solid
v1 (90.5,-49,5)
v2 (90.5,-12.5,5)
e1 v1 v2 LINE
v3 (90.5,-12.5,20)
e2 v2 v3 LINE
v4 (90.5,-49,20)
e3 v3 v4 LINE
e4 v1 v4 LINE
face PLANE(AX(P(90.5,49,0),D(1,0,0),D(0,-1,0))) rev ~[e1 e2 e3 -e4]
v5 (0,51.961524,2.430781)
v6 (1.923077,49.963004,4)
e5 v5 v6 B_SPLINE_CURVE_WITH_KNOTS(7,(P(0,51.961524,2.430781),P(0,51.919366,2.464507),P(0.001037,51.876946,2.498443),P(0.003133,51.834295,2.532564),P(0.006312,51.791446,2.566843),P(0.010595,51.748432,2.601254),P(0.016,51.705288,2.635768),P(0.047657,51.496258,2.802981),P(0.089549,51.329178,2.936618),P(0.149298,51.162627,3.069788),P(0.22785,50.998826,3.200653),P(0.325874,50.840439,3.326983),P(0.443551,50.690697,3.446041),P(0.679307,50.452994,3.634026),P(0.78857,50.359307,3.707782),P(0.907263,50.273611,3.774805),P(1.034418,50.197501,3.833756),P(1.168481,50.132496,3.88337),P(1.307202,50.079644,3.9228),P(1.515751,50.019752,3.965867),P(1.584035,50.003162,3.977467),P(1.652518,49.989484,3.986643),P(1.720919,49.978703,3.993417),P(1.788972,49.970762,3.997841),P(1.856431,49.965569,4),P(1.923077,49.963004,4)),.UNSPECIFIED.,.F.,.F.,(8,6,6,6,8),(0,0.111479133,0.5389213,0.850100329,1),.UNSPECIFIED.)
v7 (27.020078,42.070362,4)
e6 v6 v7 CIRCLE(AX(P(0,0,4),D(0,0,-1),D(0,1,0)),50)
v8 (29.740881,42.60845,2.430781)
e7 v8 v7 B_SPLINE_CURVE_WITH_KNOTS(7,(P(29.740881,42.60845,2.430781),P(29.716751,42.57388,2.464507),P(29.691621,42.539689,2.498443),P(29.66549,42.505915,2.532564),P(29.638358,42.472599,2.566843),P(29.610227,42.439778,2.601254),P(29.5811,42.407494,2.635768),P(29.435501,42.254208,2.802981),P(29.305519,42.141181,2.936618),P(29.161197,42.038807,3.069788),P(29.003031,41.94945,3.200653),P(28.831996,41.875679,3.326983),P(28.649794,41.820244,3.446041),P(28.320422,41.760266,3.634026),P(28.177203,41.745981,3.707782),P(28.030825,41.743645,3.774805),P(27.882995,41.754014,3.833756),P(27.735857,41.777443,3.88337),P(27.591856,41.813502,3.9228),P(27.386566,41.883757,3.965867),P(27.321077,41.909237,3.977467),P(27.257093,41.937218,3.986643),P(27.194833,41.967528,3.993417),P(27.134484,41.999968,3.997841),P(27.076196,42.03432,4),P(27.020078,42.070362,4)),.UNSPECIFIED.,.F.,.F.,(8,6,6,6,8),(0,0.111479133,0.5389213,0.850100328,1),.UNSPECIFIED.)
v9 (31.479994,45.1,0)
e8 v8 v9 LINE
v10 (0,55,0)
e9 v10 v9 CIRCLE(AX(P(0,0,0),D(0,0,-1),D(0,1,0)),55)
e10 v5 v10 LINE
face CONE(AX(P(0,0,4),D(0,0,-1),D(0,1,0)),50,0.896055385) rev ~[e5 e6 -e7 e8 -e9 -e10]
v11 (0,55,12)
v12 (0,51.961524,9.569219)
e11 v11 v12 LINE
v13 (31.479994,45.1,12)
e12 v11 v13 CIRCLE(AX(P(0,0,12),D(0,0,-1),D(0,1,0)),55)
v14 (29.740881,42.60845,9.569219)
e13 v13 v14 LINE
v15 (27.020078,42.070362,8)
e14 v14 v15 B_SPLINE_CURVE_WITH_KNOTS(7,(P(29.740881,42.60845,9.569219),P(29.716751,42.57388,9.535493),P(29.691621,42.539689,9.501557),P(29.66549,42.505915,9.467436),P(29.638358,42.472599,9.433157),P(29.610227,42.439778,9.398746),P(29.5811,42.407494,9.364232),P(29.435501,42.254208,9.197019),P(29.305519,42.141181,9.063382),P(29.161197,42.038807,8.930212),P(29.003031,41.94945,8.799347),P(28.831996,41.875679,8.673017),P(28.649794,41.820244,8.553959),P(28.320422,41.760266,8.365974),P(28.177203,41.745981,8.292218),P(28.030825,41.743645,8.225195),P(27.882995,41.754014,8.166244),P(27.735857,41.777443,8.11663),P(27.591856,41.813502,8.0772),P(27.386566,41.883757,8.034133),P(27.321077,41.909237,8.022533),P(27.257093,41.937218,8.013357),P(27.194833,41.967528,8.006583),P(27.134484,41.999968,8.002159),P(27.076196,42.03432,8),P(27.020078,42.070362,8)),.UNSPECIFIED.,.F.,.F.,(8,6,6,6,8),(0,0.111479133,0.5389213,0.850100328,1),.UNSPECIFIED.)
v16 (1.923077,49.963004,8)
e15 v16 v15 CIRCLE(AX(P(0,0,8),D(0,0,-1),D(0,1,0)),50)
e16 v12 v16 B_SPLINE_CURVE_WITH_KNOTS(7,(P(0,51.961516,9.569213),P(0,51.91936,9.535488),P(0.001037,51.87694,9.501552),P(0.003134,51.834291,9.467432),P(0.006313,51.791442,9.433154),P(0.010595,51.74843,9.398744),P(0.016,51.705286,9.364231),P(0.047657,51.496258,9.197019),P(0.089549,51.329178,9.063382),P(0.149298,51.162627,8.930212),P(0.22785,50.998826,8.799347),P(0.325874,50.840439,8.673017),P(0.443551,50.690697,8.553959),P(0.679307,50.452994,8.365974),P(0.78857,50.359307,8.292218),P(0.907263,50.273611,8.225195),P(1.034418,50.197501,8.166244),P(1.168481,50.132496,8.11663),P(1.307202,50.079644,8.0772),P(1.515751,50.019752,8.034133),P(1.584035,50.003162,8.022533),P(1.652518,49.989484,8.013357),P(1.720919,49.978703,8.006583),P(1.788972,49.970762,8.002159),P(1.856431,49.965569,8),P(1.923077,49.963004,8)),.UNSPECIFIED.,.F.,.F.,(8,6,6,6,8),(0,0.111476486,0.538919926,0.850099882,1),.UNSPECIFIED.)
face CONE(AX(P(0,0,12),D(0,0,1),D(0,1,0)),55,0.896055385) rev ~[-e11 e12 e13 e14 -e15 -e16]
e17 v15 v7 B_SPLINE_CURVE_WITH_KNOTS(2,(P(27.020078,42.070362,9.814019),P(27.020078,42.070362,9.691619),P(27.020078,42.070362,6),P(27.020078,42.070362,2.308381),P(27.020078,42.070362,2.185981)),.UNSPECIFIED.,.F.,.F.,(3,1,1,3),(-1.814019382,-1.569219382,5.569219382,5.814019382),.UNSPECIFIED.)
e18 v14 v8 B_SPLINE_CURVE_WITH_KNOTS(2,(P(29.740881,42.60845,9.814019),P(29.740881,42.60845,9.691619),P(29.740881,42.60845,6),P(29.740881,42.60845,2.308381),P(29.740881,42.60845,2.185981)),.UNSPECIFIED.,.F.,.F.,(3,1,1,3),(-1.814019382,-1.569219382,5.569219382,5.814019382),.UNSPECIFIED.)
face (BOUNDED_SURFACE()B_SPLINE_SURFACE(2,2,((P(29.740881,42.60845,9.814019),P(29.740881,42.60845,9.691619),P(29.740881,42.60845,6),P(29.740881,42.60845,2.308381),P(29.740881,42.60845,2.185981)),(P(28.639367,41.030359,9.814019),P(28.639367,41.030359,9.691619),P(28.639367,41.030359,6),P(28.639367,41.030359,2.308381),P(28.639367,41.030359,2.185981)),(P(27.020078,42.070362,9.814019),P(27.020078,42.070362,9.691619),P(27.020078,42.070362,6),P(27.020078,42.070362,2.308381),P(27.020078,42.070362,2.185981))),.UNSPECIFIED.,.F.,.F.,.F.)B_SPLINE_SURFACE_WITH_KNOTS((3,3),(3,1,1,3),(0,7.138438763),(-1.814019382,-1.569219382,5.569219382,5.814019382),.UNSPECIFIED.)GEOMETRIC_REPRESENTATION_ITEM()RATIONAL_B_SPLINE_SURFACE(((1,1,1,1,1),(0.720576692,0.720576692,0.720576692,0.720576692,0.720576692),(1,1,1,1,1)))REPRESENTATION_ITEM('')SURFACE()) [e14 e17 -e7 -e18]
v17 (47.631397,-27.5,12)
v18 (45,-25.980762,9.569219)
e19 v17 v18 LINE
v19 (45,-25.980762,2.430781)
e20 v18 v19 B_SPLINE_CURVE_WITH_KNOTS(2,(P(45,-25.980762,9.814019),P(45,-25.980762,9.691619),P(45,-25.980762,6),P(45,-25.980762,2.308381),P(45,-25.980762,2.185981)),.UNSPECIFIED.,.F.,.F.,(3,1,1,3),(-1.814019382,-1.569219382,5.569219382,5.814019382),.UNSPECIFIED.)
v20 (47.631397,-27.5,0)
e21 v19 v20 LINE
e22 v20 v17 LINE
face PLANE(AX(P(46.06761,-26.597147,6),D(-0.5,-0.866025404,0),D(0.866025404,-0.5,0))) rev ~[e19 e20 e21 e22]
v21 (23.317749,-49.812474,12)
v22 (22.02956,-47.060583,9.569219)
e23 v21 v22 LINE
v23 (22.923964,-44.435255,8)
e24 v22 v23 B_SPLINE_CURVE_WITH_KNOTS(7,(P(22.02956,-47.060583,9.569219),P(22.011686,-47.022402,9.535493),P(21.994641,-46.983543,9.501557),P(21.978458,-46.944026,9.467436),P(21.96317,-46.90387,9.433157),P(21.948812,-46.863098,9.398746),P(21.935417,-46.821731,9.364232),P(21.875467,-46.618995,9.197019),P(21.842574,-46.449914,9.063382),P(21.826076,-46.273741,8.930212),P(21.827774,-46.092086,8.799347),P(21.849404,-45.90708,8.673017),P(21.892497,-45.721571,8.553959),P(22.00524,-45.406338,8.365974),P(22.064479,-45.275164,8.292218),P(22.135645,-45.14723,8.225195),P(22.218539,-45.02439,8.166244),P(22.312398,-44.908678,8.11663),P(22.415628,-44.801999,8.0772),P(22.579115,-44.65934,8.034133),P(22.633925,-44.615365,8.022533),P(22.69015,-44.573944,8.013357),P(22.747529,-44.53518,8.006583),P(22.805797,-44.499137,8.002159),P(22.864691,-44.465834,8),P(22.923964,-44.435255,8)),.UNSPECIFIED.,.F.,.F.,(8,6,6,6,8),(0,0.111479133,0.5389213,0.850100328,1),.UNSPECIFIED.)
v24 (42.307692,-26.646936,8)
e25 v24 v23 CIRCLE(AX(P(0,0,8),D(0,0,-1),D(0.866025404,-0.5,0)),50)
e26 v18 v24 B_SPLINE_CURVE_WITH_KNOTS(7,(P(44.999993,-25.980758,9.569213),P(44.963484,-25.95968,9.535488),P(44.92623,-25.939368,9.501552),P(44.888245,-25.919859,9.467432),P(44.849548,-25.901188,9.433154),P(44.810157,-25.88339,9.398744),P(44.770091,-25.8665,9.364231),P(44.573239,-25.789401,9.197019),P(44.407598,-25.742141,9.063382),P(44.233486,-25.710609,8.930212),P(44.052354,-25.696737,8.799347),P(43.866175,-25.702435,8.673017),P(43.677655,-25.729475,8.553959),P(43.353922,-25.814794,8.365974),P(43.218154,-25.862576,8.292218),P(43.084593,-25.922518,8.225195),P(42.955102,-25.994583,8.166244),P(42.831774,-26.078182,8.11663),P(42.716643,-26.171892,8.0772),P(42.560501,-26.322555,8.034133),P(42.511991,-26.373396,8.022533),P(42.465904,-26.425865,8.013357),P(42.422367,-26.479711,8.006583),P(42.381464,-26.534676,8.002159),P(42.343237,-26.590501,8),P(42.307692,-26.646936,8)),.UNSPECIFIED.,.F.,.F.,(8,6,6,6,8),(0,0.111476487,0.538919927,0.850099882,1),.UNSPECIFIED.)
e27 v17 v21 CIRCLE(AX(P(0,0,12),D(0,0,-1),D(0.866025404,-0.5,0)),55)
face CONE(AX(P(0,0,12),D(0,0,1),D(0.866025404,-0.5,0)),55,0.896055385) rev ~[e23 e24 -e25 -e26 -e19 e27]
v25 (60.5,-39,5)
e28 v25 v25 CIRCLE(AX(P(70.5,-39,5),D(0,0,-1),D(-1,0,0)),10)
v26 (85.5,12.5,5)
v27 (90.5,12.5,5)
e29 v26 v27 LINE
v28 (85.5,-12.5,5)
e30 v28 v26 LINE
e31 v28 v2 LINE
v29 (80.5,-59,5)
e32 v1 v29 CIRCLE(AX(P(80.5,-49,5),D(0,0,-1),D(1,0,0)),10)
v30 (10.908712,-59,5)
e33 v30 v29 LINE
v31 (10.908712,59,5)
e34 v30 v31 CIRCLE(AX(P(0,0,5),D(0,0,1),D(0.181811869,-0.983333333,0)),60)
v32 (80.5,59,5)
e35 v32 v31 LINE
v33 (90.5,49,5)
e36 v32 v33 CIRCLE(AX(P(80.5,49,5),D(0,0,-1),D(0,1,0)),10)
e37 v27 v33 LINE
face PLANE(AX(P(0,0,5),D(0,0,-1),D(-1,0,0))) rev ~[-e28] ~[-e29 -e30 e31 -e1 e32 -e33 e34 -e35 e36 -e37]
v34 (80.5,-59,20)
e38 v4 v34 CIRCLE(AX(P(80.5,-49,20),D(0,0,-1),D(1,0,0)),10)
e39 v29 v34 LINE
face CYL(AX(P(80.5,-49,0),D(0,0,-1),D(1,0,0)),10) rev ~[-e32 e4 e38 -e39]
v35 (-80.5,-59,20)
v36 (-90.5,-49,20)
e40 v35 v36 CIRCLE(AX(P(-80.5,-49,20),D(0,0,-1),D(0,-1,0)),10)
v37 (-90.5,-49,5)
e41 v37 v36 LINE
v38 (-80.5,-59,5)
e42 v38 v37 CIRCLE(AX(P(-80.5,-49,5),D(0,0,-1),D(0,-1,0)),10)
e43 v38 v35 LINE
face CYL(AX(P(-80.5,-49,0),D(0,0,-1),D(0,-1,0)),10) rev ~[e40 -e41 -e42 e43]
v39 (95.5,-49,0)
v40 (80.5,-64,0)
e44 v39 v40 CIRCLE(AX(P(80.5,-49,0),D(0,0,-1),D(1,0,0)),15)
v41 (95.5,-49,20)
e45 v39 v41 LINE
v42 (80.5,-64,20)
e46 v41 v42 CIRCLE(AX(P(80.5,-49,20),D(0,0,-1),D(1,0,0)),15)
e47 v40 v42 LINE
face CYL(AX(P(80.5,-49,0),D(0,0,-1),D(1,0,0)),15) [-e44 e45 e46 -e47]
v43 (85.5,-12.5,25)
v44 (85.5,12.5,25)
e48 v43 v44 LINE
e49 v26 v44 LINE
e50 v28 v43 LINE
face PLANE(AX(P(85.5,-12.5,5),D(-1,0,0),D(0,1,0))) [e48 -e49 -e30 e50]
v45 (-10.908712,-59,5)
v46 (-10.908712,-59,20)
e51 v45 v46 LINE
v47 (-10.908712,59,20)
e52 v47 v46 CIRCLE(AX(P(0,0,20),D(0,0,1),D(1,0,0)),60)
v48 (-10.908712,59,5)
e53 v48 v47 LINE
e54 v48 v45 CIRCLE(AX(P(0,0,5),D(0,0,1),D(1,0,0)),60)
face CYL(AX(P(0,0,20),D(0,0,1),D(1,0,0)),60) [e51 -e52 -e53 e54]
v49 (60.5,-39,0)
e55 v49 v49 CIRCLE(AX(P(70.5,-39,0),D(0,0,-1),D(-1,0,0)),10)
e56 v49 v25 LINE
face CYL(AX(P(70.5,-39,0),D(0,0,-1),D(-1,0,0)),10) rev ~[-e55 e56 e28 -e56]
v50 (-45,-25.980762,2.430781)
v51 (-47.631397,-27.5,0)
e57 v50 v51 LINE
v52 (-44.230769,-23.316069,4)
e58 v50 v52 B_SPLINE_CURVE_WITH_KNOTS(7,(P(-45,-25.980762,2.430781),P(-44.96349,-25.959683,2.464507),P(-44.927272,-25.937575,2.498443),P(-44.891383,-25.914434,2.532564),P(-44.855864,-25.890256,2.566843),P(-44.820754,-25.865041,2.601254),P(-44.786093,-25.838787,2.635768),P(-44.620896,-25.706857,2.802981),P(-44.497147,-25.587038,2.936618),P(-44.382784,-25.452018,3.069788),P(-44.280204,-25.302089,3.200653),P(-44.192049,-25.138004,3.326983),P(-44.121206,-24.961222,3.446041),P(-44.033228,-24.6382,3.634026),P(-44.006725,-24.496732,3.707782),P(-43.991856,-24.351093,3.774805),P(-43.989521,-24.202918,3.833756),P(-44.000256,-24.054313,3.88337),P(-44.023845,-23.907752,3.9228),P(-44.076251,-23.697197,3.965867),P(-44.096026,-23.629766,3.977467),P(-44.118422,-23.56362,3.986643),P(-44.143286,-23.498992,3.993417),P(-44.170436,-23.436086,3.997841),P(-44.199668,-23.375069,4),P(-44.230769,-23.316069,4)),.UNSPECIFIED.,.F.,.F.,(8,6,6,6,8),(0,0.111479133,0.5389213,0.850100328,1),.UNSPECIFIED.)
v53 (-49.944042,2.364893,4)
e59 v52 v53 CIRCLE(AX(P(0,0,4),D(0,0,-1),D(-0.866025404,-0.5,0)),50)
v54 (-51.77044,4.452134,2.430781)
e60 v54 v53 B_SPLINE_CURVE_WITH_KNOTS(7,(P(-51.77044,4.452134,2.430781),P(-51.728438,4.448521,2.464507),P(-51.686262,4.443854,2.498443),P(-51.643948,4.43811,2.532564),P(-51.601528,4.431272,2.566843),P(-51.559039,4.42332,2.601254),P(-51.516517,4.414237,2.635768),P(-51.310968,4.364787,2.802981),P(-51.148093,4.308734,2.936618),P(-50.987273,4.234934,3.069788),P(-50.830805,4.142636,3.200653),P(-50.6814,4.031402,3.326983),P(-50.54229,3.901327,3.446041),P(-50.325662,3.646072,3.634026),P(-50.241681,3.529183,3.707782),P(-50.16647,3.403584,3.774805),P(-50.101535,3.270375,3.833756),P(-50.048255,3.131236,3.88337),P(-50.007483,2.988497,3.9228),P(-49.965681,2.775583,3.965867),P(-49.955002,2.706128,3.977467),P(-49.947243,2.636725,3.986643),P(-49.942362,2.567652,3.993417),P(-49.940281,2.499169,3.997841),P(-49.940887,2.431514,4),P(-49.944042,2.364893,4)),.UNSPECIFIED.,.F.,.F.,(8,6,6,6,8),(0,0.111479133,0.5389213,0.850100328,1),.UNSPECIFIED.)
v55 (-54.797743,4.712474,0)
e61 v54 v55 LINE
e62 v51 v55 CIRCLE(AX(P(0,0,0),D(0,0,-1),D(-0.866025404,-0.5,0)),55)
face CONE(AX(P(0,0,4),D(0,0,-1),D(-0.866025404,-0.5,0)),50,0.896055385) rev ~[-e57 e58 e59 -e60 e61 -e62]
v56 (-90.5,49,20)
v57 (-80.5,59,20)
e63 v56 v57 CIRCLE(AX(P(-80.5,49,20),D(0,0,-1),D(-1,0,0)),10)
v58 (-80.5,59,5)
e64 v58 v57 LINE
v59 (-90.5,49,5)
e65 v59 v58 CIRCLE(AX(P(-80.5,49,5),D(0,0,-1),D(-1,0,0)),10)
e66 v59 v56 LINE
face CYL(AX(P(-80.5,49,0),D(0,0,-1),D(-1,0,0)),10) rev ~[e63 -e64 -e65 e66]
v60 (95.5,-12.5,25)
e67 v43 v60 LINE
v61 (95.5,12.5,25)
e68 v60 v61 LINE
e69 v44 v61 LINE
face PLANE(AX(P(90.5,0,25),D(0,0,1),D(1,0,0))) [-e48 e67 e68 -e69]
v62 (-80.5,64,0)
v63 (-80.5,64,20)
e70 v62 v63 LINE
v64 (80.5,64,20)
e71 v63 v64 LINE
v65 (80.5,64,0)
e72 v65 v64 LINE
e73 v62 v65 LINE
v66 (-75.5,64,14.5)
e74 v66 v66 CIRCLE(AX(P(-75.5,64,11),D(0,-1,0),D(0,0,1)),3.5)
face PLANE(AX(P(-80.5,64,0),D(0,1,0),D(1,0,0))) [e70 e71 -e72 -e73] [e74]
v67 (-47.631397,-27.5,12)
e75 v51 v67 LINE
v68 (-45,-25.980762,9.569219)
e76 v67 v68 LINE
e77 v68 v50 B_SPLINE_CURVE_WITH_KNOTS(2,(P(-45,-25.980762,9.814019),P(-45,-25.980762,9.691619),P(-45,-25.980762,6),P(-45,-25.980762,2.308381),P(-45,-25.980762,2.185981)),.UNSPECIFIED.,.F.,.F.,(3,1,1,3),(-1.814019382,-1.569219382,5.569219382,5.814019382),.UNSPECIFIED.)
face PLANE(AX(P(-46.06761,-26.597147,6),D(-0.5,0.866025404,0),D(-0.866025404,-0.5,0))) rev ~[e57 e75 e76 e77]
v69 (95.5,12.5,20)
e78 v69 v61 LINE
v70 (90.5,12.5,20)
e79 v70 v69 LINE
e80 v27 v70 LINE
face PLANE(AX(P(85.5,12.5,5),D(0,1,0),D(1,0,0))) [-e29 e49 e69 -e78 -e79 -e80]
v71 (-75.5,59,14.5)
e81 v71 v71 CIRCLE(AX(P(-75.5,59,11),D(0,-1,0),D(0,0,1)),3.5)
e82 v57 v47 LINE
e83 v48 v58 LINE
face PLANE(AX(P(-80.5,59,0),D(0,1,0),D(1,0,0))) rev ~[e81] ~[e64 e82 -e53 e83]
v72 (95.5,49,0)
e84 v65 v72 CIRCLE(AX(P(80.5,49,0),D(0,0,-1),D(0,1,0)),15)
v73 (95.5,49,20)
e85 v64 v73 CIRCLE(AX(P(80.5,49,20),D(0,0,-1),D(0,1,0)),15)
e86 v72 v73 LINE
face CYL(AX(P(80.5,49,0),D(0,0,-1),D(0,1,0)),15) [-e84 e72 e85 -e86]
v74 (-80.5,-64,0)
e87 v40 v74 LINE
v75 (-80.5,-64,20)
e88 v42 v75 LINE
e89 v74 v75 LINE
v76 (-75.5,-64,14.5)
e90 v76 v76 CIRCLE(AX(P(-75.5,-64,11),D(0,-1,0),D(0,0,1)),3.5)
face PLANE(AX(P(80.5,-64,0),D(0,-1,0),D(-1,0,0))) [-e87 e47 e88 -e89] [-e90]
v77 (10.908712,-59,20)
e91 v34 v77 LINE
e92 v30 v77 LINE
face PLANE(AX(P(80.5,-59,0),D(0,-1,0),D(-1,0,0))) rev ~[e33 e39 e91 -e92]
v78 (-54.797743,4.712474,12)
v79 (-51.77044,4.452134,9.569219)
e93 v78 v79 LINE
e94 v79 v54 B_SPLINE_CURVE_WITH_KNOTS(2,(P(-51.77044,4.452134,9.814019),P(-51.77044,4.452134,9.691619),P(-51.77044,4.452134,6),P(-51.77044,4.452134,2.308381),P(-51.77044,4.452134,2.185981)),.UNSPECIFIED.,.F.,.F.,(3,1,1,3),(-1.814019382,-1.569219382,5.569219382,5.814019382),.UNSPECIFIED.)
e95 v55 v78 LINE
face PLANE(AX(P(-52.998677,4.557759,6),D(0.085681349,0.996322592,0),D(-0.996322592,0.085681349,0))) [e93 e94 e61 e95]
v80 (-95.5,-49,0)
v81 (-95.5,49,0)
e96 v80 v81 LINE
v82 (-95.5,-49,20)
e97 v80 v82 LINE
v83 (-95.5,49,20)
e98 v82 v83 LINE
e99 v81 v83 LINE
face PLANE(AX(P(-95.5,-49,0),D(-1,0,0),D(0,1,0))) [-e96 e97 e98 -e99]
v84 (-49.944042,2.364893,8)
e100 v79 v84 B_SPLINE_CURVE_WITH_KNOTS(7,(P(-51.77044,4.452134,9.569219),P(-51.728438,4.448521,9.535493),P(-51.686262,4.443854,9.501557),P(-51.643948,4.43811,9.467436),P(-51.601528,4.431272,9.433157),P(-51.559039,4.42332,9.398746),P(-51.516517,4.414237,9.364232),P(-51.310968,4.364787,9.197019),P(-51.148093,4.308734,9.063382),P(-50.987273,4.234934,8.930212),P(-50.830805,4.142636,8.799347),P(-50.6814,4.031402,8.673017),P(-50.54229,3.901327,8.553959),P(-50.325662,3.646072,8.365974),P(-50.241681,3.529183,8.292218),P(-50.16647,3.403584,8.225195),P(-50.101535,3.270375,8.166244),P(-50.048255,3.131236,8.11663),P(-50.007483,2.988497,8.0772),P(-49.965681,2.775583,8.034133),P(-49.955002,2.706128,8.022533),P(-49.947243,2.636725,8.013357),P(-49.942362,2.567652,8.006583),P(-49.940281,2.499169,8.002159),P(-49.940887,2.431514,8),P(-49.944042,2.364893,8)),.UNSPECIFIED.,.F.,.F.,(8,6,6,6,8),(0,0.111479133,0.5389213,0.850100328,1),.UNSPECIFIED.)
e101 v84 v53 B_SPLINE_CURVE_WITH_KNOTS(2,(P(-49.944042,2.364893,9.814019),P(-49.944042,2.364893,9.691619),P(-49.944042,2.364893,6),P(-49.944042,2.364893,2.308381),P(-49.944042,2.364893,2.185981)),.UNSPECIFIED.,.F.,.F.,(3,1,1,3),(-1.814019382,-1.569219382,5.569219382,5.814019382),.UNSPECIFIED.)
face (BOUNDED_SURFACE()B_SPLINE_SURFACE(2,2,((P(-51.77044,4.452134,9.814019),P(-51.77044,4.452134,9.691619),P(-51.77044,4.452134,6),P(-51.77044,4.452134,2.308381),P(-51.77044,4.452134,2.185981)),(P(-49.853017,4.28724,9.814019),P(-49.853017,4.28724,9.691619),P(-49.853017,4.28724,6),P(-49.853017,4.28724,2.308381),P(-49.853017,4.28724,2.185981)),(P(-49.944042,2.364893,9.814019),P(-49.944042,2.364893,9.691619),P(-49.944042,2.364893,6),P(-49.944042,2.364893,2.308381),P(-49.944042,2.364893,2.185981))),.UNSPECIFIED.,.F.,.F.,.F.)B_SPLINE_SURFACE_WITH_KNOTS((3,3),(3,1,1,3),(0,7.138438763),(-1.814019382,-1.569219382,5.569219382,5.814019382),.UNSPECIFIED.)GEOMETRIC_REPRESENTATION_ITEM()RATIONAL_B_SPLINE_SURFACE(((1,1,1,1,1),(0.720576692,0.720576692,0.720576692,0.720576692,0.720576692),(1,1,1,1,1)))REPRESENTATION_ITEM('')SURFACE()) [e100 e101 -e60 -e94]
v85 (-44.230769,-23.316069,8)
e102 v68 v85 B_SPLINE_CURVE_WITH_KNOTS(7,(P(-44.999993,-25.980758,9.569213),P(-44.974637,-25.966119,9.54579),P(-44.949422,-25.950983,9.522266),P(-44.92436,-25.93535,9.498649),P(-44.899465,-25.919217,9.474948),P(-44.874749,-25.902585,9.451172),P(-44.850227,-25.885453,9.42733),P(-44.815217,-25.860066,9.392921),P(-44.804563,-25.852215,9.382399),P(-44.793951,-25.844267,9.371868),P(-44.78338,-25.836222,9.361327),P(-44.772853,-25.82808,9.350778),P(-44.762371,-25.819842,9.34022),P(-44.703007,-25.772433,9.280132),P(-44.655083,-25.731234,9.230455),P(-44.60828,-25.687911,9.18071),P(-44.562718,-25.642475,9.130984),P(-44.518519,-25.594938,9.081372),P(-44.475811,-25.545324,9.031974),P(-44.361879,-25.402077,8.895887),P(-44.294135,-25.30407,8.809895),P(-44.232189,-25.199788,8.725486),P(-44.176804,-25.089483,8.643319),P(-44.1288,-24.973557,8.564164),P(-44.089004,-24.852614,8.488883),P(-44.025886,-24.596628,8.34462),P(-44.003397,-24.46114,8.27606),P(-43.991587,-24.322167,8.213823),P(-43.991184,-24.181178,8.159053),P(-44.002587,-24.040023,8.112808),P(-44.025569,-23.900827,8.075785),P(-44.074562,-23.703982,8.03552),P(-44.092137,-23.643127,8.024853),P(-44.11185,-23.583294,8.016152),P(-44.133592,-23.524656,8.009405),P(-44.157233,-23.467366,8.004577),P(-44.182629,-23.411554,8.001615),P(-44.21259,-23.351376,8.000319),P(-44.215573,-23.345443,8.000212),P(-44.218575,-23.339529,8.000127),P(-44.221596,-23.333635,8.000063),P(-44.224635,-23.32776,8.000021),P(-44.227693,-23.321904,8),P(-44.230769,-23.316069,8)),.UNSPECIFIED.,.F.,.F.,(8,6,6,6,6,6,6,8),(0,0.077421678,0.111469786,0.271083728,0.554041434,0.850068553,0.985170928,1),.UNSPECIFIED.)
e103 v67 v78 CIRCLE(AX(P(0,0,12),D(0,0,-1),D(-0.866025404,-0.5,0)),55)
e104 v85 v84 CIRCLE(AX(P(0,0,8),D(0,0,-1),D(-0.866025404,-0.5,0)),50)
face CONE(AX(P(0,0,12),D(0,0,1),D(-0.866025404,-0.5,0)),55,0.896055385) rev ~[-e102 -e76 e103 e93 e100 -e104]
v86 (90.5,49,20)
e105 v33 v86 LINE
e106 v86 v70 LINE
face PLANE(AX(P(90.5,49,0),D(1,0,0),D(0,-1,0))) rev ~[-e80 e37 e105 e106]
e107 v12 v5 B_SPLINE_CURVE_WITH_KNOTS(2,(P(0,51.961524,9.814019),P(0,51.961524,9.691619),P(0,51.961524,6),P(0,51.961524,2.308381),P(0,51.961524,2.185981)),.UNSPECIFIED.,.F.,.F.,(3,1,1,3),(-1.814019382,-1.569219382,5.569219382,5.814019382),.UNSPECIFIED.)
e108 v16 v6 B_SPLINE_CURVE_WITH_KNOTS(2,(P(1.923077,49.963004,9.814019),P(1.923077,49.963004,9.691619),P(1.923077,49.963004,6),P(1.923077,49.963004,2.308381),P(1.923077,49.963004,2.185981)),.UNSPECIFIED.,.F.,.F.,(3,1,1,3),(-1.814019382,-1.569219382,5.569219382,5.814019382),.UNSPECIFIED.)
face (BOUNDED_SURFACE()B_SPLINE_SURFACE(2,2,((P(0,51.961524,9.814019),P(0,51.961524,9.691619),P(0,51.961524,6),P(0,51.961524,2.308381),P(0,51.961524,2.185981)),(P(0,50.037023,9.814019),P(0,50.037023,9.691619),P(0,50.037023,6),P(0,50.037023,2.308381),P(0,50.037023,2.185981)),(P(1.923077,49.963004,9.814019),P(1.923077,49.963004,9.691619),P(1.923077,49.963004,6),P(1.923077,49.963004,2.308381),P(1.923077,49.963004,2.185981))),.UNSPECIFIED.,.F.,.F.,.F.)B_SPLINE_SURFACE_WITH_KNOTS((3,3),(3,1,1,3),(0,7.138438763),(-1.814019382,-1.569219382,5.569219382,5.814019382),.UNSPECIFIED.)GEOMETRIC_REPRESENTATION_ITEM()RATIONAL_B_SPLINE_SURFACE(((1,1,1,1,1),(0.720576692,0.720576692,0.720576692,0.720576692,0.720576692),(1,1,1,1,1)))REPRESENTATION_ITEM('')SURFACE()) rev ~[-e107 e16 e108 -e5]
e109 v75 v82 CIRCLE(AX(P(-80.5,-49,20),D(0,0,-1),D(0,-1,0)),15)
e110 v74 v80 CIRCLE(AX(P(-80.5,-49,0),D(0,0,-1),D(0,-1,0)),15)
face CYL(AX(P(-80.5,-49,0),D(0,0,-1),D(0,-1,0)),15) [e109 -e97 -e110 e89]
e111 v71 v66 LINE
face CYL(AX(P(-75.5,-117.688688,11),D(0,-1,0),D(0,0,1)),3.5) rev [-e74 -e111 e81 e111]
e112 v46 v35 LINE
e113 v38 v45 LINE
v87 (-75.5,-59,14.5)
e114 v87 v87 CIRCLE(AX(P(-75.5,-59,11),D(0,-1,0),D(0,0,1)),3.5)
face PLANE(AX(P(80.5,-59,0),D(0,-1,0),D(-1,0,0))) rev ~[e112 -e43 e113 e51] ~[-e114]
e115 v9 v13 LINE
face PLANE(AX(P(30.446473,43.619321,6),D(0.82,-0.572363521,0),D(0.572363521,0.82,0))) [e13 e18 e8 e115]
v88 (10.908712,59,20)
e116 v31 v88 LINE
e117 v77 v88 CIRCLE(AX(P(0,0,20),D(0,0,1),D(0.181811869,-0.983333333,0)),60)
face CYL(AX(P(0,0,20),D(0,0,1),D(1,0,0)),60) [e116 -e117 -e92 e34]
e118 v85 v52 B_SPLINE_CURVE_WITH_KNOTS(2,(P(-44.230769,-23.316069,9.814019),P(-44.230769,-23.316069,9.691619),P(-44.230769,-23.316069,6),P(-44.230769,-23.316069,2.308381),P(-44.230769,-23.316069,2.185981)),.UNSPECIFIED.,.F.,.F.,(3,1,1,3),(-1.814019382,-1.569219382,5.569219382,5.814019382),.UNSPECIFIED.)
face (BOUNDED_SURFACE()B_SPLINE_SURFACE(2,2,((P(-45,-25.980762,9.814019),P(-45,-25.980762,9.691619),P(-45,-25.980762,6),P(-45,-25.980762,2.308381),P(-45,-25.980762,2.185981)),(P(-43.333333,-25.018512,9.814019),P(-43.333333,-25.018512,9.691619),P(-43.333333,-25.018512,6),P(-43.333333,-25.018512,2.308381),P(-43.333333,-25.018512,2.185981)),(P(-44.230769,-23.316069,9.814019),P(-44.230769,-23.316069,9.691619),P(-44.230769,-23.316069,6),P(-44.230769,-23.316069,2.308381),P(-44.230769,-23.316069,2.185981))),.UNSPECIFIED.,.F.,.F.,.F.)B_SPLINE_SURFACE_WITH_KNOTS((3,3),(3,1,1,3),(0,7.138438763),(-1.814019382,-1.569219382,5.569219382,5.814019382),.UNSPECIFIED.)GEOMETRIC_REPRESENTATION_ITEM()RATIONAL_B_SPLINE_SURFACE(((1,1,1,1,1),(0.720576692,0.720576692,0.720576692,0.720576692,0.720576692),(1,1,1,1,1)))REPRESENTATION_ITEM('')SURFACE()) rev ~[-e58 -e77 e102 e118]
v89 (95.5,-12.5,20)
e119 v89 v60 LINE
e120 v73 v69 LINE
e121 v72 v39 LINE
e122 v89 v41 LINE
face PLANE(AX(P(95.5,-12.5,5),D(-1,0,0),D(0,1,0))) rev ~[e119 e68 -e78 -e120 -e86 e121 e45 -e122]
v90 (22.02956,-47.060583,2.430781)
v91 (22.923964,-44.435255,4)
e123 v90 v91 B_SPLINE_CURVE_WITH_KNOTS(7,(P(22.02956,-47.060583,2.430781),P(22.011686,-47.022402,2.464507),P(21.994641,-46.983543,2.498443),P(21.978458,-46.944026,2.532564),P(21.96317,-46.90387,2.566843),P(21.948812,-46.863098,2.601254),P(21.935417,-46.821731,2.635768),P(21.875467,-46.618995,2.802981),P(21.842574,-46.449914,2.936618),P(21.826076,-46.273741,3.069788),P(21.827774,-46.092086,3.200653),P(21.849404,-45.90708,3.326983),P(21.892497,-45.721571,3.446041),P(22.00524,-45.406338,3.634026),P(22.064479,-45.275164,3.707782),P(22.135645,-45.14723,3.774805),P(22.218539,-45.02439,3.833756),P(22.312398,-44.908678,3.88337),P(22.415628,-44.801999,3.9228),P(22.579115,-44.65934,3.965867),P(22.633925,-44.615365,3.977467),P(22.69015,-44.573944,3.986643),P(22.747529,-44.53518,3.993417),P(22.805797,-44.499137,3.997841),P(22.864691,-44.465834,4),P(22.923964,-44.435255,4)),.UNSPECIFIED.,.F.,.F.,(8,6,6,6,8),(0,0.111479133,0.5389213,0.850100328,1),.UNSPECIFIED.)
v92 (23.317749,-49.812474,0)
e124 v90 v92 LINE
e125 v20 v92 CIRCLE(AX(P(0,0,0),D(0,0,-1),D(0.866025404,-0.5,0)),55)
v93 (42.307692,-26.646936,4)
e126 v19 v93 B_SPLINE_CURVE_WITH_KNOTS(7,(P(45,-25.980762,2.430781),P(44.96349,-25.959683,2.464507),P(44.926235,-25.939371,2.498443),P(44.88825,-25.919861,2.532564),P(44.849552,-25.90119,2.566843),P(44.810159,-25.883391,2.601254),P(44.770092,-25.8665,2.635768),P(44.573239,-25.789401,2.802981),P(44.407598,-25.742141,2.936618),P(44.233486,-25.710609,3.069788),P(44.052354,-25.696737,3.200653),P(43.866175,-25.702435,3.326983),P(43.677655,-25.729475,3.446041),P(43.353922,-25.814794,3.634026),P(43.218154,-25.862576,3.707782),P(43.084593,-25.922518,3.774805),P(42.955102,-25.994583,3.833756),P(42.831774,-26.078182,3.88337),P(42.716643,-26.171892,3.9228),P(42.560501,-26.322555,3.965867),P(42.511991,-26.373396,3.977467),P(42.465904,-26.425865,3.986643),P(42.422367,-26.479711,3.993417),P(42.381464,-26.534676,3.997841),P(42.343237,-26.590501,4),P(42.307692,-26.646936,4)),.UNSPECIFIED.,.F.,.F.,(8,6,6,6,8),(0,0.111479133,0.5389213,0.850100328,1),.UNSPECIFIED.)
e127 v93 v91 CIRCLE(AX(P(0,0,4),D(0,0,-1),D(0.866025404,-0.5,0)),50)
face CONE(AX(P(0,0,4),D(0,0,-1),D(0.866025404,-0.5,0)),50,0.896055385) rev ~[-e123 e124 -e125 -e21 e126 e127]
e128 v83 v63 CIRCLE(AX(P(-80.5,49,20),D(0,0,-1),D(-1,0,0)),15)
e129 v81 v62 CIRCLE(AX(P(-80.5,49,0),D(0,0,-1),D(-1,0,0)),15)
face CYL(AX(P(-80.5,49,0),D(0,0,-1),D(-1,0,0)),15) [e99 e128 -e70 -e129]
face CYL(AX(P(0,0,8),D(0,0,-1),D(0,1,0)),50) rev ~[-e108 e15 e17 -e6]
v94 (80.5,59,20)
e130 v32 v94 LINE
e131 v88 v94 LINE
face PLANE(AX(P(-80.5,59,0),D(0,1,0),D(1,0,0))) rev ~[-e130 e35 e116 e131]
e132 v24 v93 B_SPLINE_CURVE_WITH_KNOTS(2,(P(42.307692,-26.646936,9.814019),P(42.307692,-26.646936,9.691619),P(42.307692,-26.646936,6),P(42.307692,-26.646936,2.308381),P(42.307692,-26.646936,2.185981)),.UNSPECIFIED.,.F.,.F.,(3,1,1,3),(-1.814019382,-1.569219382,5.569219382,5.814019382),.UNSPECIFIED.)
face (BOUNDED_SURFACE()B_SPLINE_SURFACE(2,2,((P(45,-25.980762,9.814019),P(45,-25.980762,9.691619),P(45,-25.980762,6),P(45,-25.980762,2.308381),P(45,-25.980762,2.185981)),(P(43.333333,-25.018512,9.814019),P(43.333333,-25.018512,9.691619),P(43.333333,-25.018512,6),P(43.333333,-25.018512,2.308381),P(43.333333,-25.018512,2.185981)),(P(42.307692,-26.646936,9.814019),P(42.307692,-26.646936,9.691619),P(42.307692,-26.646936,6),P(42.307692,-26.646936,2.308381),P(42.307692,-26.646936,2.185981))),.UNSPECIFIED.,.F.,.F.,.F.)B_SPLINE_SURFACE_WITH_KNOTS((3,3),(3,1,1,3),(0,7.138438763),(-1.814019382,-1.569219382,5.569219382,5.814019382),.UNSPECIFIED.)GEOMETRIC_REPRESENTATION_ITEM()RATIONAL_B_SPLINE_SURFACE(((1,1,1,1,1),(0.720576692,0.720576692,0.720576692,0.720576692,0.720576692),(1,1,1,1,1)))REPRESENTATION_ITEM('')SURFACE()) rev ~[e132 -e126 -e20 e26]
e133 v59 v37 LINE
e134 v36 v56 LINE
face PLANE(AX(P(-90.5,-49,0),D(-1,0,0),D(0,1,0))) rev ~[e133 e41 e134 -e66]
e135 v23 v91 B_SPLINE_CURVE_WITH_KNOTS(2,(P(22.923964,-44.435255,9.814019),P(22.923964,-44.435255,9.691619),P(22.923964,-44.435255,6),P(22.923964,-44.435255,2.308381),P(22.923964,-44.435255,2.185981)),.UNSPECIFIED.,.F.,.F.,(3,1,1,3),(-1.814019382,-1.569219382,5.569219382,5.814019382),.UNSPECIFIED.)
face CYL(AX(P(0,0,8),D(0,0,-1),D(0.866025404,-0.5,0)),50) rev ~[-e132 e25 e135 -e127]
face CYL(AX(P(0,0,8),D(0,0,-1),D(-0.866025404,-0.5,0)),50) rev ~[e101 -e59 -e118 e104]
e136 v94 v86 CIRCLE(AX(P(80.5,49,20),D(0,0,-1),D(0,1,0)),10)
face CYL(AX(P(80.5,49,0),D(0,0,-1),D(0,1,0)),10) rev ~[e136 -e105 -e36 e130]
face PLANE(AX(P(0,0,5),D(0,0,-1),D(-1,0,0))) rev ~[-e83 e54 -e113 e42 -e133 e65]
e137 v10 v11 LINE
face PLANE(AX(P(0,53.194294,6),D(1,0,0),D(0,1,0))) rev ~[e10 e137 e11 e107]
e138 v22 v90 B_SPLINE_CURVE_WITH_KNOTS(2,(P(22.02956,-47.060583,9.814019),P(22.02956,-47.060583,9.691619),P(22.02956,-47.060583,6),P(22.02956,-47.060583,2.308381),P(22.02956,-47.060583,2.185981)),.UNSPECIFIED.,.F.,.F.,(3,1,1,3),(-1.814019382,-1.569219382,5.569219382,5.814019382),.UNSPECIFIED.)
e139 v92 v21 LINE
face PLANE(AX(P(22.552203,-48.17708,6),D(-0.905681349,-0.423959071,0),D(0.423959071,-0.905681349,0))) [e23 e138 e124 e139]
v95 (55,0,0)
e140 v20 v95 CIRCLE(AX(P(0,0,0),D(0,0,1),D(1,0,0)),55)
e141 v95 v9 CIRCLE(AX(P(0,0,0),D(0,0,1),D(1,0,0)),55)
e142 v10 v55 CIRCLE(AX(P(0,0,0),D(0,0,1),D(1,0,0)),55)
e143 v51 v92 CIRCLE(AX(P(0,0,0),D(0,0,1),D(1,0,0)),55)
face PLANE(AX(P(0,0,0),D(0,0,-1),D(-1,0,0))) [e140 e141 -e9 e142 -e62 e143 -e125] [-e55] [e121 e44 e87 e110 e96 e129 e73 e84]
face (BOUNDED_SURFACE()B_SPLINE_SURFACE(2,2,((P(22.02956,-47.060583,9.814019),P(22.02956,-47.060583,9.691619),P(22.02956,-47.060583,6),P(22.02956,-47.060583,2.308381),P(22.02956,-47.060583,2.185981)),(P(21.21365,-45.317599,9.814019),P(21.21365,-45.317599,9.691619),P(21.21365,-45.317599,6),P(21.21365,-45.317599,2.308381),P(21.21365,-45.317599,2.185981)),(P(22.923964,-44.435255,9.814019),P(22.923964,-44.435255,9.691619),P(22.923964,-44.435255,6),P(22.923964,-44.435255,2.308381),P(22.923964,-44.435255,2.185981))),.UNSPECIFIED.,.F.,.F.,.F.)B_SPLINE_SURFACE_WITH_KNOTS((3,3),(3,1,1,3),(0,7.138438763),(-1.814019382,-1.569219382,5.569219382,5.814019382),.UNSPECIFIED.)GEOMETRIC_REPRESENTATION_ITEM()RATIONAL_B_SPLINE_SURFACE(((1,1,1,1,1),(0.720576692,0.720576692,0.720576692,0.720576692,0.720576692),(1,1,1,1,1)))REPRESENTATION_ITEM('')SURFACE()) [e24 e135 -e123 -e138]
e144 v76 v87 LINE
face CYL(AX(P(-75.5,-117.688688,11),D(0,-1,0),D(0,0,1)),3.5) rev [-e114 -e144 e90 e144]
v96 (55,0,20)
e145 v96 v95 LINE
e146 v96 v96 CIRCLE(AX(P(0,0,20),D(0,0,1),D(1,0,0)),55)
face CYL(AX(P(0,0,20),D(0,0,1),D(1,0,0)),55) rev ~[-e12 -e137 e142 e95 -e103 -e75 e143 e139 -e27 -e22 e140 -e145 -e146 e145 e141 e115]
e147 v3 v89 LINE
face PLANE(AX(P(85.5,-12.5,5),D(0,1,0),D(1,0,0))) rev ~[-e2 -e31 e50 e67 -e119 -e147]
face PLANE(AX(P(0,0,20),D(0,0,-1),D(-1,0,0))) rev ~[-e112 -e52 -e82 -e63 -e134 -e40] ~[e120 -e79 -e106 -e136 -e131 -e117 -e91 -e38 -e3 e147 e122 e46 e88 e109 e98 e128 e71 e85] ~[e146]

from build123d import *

# Parameters (mm, degrees)
BOSS_EXTRUDE1_DEPTH      = 20
SKETCH2_R                = 55
CUT_EXTRUDE1_DEPTH       = 117.688688398
SHELL1_T                 = -5
FILLET1_R                = 2
CIRPATTERN1_COUNT        = 3
FILLET1_OF_CIRPATTERN1_R = 2
SKETCH5_R                = 10
CUT_EXTRUDE2_DEPTH       = 117.688688398
CUT_EXTRUDE3_DEPTH       = 117.688688398
CUT_EXTRUDE3_DEPTH_BACK  = 117.688688398
SKETCH6_R                = 3.5
SKETCH7_W                = 10
SKETCH7_H                = 25
BOSS_EXTRUDE2_DEPTH      = 20


with BuildPart() as part:
    # Sketch1 → Boss-Extrude1 (new body)
    with BuildSketch(Plane.XY):
        with BuildLine():
            Line((-80.5, 64), (80.5, 64))
            ThreePointArc((80.5, 64), (91.106601718, 59.606601718), (95.5, 49))
            Line((95.5, 49), (95.5, -49))
            ThreePointArc((95.5, -49), (91.106601718, -59.606601718), (80.5, -64))
            Line((80.5, -64), (-80.5, -64))
            ThreePointArc((-80.5, -64), (-91.106601718, -59.606601718), (-95.5, -49))
            Line((-95.5, -49), (-95.5, 49))
            ThreePointArc((-95.5, 49), (-91.106601718, 59.606601718), (-80.5, 64))
        make_face()
    extrude(amount=BOSS_EXTRUDE1_DEPTH)

    # Sketch2 → Cut-Extrude1 (cut, through all)
    with BuildSketch(Plane.XY.offset(20)):
        Circle(SKETCH2_R)
    extrude(amount=-CUT_EXTRUDE1_DEPTH, mode=Mode.SUBTRACT)

    # Shell1
    shell1_openings = [part.faces().sort_by_distance(p)[0] for p in [
        (0, 61.700760995, 20),
    ]]
    offset(amount=SHELL1_T, openings=shell1_openings)

    # Sweep1: sweep along a path in Sketch4
    with BuildLine(Plane.XY) as sweep1_path:
        ThreePointArc((0, 50), (15, 47.696960071), (28.618176043, 41))
    # Sketch3 → Sweep1 (sweep)
    with BuildSketch(Plane(origin=(0, 0, 0), x_dir=(0, 0, -1), z_dir=(1, 0, 0))):
        Polygon((0, 55), (-12, 55), (-8, 50), (-4, 50), align=None)
    sweep1 = sweep(path=sweep1_path.line)

    # Fillet1
    fillet1_edges = [part.edges().sort_by_distance(p)[0] for p in [
        (28.618176043, 41, 6),
        (0, 50, 6),
    ]]
    fillet(fillet1_edges, radius=FILLET1_R)

    # CirPattern1: Sweep1 ×3 about axis
    cirpattern1_axis = Axis((0, 0, 0), (0, 0, 1))
    for i in range(1, CIRPATTERN1_COUNT):
        add(sweep1.rotate(cirpattern1_axis, i * 360 / CIRPATTERN1_COUNT))

    # Fillet1 of CirPattern1
    fillet1_of_cirpattern1_edges = [part.edges().sort_by_distance(p)[0] for p in [
        (-49.816129576, 4.284067463, 6),
        (-43.301270189, -25, 6),
        (21.197953534, -45.284067463, 6),
        (43.301270189, -25, 6),
    ]]
    fillet(fillet1_of_cirpattern1_edges, radius=FILLET1_OF_CIRPATTERN1_R)

    # Sketch5 → Cut-Extrude2 (cut, through all)
    with BuildSketch(Plane(origin=(0, 0, 0), x_dir=(-1, 0, 0), z_dir=(0, 0, -1))):
        with Locations((-70.5, -39)):
            Circle(SKETCH5_R)
    extrude(amount=-CUT_EXTRUDE2_DEPTH, mode=Mode.SUBTRACT)

    # Sketch6 → Cut-Extrude3 (cut, two sides: drawn at the far end of the back side and taken through both)
    with BuildSketch(Plane(origin=(0, 0, 0), x_dir=(1, 0, 0), z_dir=(0, 1, 0)).offset(-CUT_EXTRUDE3_DEPTH_BACK)):
        with Locations(Location((-75.5, -11, 0), (0, 0, 270))):
            Circle(SKETCH6_R)
    extrude(amount=CUT_EXTRUDE3_DEPTH + CUT_EXTRUDE3_DEPTH_BACK, mode=Mode.SUBTRACT)

    # Sketch7 → Boss-Extrude2 (add)
    with BuildSketch(Plane.XY.offset(5)):
        with Locations((90.5, 0)):
            Rectangle(SKETCH7_W, SKETCH7_H)
    extrude(amount=BOSS_EXTRUDE2_DEPTH)


solid = part.part
